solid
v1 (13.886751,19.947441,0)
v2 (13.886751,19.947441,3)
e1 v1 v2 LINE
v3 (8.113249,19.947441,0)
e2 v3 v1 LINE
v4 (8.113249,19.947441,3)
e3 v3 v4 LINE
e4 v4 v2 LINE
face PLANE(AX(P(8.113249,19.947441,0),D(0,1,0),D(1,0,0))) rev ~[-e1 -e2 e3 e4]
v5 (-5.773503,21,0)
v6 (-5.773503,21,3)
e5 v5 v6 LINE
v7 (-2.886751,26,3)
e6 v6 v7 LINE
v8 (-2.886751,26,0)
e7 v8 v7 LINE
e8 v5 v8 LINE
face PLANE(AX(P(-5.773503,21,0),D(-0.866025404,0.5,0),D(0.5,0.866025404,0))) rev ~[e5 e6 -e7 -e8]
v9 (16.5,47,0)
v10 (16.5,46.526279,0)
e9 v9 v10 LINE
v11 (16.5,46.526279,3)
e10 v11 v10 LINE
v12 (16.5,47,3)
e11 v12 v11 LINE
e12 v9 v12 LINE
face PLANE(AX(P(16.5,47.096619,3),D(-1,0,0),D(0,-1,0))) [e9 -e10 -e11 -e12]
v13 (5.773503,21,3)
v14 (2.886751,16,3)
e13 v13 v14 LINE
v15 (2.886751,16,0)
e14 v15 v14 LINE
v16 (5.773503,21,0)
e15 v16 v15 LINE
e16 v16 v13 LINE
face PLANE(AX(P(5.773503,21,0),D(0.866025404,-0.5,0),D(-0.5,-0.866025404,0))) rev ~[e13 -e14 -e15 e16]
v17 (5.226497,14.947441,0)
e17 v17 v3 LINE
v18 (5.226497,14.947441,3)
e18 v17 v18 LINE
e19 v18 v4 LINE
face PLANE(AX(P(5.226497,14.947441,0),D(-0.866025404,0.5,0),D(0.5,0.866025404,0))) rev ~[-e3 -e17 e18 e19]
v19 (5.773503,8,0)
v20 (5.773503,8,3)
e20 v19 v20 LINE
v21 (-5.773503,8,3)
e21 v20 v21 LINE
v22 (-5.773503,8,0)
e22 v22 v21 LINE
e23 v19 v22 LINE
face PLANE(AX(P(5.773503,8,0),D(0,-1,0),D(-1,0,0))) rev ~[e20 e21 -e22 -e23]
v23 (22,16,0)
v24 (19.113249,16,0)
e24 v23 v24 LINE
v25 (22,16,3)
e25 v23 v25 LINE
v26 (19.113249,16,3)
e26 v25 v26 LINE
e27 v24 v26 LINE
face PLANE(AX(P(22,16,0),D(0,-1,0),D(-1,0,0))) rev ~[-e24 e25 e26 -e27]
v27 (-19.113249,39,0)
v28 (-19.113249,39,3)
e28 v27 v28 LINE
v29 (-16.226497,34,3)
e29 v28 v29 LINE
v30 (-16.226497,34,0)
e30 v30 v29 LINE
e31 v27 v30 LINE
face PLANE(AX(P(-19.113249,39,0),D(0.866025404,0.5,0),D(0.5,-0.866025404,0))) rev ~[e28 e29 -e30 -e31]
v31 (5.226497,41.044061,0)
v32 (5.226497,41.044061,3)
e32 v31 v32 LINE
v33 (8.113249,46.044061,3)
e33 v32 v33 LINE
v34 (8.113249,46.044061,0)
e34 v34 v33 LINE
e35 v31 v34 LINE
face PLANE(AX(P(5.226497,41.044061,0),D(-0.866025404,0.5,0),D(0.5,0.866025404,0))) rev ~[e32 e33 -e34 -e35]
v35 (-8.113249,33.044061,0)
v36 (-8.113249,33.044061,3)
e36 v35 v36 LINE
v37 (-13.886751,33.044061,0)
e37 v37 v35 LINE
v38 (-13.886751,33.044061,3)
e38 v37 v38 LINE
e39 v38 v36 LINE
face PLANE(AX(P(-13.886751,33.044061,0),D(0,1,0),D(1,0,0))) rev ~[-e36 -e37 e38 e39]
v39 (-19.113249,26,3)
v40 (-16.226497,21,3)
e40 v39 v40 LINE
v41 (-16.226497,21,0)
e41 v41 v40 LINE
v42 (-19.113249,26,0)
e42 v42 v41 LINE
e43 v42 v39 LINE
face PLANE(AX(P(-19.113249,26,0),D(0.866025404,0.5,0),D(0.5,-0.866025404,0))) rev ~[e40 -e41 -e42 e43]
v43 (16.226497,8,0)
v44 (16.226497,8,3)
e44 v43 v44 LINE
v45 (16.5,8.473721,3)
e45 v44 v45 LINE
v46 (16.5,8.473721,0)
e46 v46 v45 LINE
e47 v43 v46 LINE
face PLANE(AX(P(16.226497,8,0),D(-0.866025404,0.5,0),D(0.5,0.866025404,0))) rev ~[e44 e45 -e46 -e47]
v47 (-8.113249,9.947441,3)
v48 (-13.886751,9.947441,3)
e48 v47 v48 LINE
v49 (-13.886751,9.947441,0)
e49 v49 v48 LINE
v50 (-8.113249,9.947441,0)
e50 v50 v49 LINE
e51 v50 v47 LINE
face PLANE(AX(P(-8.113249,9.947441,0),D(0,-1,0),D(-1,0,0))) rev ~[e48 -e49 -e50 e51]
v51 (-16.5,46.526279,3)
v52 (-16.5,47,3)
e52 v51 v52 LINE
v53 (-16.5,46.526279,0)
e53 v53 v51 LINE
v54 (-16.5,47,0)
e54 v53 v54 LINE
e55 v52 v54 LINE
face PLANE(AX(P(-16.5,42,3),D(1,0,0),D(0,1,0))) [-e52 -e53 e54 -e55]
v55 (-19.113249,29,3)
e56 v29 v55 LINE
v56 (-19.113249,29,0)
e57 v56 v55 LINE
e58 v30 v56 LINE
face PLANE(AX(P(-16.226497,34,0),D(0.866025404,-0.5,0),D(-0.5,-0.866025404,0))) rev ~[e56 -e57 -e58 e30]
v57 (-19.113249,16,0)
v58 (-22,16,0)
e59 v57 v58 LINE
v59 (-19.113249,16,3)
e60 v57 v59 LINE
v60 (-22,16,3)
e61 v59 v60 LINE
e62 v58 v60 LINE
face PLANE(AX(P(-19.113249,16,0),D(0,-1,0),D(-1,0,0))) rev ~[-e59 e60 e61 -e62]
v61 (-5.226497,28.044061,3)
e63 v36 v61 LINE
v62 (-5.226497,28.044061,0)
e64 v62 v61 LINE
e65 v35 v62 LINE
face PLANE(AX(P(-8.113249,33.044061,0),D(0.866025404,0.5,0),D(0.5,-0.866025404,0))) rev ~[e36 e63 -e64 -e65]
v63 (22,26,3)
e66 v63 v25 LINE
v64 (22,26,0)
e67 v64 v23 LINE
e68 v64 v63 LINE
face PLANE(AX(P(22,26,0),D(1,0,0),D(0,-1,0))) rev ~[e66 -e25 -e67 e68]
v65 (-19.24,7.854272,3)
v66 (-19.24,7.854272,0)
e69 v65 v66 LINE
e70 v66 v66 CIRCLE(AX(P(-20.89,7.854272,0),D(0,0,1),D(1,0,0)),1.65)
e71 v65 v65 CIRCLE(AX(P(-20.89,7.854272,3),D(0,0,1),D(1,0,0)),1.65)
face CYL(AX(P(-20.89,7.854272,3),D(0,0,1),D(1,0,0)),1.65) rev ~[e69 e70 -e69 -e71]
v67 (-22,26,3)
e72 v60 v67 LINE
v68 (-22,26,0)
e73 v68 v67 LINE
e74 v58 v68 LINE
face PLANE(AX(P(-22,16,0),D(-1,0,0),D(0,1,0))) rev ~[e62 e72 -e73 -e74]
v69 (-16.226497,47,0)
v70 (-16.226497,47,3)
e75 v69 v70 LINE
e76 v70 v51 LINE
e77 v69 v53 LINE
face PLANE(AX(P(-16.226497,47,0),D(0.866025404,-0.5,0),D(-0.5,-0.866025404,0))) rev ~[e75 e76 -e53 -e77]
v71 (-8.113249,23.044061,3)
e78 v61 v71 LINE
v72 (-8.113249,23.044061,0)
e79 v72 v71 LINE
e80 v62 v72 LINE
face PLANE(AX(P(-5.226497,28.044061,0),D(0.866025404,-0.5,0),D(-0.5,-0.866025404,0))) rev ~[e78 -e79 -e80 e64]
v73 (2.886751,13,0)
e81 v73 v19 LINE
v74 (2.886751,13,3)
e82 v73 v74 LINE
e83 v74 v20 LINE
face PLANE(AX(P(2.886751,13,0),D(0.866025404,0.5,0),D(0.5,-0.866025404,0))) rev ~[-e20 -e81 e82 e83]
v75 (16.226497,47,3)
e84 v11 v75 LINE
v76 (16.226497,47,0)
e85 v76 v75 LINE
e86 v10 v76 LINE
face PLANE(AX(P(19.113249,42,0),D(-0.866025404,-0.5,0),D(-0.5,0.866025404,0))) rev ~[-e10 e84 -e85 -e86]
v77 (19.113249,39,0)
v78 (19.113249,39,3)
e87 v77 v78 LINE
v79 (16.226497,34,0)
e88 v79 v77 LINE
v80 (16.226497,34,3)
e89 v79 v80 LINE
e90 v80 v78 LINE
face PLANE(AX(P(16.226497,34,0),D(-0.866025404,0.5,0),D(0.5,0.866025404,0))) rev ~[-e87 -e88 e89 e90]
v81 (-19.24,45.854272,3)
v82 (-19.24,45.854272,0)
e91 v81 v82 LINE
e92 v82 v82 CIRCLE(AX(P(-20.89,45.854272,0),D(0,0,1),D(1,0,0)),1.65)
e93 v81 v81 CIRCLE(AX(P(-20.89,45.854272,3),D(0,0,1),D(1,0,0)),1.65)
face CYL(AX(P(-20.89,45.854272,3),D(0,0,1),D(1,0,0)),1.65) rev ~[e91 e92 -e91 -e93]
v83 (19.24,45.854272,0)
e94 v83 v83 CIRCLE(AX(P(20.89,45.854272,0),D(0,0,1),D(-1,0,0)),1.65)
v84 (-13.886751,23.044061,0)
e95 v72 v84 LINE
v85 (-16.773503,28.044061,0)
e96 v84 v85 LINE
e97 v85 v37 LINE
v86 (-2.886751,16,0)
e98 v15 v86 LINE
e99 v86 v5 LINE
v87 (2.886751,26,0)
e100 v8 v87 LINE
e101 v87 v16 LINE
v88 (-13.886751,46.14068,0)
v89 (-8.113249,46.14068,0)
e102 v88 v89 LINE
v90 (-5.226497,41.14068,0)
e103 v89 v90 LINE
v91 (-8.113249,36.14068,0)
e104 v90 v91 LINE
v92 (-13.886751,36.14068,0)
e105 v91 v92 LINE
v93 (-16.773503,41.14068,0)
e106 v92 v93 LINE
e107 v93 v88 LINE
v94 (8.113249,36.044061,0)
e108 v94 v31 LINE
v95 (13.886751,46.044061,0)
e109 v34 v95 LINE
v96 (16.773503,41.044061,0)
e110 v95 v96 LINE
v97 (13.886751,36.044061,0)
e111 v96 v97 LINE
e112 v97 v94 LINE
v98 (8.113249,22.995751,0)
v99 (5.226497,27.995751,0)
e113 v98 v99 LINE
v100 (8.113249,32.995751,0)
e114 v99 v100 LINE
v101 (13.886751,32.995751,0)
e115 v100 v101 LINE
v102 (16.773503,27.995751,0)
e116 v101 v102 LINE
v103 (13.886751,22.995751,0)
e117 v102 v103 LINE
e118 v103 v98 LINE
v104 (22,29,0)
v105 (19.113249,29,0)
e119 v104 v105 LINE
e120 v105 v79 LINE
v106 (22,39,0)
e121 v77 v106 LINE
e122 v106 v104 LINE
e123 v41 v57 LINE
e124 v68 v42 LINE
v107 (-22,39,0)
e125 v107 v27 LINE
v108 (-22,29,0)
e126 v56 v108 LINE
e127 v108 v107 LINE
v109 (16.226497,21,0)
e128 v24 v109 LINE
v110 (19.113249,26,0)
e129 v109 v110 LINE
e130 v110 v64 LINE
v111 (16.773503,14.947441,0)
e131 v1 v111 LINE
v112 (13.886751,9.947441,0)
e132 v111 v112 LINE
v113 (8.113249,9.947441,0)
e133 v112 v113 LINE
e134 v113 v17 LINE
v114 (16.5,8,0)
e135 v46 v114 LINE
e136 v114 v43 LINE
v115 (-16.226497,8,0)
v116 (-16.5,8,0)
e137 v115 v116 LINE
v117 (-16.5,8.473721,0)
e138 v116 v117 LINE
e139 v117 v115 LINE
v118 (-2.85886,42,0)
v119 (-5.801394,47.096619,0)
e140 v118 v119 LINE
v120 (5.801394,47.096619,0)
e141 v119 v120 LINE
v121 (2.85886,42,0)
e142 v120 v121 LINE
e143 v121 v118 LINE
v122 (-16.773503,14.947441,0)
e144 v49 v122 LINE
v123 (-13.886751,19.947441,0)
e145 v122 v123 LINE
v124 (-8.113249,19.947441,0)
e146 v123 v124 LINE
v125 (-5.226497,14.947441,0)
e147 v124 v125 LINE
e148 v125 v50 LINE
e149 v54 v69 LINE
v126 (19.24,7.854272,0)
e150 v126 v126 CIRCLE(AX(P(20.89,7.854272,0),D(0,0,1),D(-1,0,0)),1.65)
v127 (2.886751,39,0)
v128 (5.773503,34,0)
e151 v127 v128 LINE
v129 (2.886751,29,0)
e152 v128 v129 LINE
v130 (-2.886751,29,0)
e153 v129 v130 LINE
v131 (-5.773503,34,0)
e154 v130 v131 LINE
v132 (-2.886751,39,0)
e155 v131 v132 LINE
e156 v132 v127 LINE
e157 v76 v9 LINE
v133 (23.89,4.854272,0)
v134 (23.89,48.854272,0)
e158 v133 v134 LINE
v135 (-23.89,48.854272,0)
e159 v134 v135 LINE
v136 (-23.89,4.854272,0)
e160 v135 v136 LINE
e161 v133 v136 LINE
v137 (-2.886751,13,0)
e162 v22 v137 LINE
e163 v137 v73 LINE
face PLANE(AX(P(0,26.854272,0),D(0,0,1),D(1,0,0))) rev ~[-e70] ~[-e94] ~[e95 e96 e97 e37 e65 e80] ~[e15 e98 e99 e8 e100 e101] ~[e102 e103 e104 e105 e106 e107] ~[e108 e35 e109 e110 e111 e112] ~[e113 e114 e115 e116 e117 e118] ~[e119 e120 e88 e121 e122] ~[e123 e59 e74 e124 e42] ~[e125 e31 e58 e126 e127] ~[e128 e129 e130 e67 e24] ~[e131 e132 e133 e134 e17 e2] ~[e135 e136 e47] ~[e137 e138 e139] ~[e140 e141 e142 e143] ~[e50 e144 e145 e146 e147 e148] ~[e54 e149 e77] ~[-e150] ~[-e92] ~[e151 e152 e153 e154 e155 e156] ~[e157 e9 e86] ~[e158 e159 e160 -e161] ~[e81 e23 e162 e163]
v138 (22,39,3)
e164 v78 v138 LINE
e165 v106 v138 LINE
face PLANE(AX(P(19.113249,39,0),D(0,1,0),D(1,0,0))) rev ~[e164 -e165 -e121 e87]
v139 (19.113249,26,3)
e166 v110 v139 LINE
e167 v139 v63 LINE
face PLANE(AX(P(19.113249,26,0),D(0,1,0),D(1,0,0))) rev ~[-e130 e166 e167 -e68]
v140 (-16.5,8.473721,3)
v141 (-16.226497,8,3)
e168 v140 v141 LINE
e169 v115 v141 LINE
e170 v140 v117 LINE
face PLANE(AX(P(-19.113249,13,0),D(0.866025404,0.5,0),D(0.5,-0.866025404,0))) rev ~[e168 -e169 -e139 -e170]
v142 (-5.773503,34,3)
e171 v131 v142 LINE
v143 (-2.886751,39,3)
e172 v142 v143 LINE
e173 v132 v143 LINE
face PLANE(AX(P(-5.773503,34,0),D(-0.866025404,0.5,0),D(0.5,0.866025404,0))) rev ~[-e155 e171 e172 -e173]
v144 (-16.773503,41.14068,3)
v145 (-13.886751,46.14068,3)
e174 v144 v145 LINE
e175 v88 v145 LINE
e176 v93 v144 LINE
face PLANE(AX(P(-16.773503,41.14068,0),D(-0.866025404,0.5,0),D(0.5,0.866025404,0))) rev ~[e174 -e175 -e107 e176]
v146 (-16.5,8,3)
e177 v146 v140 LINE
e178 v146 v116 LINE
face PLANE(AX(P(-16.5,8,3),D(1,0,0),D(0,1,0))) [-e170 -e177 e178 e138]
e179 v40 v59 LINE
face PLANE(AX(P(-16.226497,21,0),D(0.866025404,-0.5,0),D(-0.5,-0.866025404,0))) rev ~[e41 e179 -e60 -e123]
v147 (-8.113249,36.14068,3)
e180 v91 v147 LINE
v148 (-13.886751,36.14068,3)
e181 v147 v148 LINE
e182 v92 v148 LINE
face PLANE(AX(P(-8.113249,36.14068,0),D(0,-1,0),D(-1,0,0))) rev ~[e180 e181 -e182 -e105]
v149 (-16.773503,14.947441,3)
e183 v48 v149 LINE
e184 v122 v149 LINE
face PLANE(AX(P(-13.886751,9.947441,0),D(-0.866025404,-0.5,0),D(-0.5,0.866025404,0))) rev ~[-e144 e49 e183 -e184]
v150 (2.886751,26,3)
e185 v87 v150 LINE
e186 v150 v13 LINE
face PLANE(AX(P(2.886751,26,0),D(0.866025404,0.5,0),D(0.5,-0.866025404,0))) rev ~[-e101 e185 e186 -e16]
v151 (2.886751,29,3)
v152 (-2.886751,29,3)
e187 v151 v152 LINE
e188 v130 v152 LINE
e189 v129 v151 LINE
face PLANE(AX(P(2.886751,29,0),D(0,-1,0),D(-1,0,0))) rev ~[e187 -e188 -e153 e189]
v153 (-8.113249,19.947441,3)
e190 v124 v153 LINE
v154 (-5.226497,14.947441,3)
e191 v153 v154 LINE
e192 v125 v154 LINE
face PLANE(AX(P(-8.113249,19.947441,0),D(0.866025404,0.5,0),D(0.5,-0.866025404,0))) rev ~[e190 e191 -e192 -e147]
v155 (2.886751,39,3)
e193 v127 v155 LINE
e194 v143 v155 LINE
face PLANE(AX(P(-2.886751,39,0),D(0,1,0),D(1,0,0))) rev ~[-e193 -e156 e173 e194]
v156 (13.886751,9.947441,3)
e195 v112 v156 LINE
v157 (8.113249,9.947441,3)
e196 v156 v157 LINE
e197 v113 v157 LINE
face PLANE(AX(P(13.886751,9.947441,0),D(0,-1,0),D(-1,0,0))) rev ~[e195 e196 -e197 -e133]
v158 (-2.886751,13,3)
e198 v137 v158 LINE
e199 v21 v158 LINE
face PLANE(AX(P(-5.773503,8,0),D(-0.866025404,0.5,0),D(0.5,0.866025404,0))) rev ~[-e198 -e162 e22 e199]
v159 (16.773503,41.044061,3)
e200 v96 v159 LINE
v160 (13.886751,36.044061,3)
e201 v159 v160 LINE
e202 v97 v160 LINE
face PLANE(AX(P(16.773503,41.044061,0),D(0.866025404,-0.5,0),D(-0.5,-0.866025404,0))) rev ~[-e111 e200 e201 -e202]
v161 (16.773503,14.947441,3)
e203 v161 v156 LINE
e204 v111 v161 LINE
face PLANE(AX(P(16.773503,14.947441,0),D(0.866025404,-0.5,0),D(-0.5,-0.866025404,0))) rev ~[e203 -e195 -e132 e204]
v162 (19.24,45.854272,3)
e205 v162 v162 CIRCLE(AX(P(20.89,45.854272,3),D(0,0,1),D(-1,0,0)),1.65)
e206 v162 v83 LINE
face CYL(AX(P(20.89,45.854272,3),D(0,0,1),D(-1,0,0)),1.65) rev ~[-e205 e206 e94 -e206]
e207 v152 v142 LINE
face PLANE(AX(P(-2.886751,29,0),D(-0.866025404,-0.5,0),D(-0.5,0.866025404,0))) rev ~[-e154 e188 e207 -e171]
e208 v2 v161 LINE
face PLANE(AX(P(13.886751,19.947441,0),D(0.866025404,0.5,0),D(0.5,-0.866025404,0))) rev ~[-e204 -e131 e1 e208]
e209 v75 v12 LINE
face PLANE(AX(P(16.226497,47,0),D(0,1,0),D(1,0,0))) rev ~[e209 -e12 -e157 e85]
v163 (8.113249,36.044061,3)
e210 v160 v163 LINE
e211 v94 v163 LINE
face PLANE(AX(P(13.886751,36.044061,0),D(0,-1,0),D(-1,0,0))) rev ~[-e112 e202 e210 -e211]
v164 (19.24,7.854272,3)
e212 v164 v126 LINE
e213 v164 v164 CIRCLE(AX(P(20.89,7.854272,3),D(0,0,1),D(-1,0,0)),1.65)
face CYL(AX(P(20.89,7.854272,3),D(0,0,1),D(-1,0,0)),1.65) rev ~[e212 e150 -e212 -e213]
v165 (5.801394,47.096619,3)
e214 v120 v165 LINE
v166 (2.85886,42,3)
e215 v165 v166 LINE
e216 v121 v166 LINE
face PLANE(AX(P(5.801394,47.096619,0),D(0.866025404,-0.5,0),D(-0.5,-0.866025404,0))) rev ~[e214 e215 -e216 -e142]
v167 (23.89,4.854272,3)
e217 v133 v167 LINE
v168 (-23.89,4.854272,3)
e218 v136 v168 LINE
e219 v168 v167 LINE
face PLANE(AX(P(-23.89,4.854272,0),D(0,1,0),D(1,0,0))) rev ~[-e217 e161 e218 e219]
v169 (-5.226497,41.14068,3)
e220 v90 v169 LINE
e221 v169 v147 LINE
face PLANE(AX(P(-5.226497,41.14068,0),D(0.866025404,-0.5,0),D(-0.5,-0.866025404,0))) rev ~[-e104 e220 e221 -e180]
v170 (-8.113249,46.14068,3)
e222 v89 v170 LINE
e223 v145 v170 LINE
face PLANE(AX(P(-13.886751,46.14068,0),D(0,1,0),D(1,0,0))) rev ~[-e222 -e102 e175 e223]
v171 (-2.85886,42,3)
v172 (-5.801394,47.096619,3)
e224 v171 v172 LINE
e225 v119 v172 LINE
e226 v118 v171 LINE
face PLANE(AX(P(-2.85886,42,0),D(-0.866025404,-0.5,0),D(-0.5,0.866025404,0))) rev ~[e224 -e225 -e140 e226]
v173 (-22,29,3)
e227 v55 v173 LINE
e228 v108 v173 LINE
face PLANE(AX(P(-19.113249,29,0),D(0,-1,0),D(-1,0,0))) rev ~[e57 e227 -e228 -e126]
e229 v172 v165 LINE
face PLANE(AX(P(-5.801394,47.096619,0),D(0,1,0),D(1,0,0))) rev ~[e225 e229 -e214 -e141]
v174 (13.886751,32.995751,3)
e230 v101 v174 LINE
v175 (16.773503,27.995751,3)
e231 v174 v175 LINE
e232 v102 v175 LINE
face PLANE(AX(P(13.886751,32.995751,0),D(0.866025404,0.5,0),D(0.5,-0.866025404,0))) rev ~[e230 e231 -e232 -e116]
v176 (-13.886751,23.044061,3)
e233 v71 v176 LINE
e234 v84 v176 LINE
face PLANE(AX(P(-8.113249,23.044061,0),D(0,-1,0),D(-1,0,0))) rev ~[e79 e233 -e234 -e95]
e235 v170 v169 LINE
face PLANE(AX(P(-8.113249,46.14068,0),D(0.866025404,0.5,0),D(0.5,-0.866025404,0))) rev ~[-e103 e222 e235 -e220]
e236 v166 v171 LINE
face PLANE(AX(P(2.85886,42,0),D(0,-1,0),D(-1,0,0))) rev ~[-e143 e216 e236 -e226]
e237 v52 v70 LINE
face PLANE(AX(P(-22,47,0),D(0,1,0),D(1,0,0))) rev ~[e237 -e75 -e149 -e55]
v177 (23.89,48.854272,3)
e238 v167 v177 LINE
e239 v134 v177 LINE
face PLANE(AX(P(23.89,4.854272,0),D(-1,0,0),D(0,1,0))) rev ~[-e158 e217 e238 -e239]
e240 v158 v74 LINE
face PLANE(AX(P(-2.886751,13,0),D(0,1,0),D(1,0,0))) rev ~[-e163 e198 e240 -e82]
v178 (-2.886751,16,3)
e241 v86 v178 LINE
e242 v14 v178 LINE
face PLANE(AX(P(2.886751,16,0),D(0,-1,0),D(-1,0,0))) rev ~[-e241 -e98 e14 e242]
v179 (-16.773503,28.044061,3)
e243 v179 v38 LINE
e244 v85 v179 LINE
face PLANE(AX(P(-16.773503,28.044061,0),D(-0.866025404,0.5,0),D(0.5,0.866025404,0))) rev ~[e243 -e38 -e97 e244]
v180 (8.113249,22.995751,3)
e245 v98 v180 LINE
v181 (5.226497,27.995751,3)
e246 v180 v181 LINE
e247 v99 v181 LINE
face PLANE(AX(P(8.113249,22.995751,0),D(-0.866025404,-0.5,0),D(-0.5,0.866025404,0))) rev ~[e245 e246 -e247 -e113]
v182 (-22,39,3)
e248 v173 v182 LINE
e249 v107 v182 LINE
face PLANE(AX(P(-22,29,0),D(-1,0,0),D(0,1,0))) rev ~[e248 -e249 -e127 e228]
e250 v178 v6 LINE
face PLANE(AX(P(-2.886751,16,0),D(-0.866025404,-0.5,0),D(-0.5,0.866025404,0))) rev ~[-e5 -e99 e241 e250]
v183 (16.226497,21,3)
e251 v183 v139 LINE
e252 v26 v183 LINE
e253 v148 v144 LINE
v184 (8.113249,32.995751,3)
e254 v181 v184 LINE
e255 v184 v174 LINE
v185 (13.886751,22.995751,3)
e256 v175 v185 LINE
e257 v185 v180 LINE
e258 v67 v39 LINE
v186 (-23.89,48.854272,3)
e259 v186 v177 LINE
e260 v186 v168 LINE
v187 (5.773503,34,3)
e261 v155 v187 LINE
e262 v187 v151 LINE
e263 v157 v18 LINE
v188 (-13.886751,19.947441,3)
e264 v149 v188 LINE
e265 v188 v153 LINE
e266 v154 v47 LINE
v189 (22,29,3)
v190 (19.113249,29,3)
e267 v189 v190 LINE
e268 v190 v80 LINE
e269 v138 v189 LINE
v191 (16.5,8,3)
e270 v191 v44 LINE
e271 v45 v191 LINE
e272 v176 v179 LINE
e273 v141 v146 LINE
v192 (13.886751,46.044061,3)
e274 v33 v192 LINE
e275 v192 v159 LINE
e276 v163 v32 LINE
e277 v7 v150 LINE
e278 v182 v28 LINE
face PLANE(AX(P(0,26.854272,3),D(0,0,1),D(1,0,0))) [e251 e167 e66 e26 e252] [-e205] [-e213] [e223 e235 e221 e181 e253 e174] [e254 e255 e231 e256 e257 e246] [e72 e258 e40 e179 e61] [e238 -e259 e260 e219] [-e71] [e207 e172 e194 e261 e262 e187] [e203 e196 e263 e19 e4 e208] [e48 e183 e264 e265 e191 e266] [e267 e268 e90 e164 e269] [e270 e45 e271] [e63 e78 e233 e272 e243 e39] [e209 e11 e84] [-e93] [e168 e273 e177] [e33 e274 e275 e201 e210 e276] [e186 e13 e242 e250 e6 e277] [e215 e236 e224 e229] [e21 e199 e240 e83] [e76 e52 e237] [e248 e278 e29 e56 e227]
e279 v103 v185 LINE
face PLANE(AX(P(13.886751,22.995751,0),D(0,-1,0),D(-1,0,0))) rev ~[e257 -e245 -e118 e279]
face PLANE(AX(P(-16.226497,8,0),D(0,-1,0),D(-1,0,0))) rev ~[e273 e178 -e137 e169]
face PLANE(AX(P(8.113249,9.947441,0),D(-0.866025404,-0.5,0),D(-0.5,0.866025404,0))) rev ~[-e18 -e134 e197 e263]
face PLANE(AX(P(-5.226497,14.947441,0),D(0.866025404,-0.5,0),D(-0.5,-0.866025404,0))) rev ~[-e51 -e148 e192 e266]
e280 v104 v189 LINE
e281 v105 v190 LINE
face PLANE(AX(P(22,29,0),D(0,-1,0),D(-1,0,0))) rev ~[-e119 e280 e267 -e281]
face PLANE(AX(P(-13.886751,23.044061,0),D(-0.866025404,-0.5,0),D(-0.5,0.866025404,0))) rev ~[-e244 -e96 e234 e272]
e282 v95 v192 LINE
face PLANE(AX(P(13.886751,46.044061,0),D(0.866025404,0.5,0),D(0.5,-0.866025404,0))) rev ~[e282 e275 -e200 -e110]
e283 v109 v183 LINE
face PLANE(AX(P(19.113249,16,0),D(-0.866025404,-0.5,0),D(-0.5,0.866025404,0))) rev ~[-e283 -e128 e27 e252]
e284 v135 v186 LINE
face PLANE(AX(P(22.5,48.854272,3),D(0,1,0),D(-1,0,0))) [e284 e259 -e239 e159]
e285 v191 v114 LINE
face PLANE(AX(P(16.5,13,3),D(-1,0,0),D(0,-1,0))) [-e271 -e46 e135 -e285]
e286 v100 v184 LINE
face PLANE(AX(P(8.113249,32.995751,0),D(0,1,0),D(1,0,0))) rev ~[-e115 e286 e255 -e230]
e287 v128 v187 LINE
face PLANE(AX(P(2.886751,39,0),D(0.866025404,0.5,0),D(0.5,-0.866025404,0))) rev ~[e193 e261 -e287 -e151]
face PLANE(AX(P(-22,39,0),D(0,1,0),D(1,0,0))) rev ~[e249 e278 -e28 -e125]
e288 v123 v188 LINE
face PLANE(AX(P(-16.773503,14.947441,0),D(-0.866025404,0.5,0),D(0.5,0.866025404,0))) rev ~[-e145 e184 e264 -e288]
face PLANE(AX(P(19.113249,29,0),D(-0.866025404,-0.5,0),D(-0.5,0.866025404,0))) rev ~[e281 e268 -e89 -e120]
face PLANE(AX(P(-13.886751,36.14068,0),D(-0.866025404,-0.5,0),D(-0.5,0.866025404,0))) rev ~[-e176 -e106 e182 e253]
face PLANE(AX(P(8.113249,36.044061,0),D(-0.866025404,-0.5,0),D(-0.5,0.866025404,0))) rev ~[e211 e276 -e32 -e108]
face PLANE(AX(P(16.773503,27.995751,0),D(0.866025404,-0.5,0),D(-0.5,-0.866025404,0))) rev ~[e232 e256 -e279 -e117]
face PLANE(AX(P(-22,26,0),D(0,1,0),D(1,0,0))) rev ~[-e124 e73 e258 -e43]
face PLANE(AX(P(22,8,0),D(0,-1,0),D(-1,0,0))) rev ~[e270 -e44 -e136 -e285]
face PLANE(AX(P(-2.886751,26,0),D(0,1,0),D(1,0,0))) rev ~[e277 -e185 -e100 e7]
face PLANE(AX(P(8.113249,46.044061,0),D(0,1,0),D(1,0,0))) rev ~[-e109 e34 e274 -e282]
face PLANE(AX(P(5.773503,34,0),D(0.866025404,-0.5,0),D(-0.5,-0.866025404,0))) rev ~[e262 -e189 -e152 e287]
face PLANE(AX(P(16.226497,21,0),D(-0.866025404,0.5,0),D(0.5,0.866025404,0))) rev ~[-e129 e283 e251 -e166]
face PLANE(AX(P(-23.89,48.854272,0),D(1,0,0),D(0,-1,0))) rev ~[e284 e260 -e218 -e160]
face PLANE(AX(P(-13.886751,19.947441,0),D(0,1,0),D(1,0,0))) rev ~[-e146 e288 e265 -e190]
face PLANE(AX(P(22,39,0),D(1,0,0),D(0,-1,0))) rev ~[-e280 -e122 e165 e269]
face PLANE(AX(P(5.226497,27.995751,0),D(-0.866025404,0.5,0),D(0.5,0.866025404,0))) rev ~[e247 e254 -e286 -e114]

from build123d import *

# Parameters (mm, degrees)
RESSALTO_EXTRUS_O2_DEPTH = 3
RESSALTO_EXTRUS_O3_DEPTH = 3
ESBO_O4_R                = 1.65
CORTE_EXTRUS_O2_DEPTH    = 55.465328173


with BuildPart() as part:
    # Esboço1 → Ressalto-extrusão2 (new body)
    with BuildSketch(Plane.XY):
        Polygon((-23.89, 48.854271798), (-23.89, 4.854271798), (-18.042684332, 4.854271798), (3.957315668, 4.854271798), (18.042684332, 4.854271798), (23.89, 4.854271798), (23.89, 48.854271798), align=None)
        Polygon((19.113248654, 42), (16.226497308, 47), (22, 47), (22, 42), align=None, mode=Mode.SUBTRACT)
        Polygon((-16.226497308, 8), (-22, 8), (-22, 13), (-19.113248654, 13), align=None, mode=Mode.SUBTRACT)
        Polygon((-8.113248654, 19.947441117), (-5.226497308, 14.947441117), (-8.113248654, 9.947441117), (-13.886751346, 9.947441117), (-16.773502692, 14.947441117), (-13.886751346, 19.947441117), align=None, mode=Mode.SUBTRACT)
        Polygon((-19.113248654, 16), (-22, 16), (-22, 26), (-19.113248654, 26), (-16.226497308, 21), align=None, mode=Mode.SUBTRACT)
        Polygon((-2.886751346, 13), (2.886751346, 13), (5.773502692, 8), (-5.773502692, 8), align=None, mode=Mode.SUBTRACT)
        Polygon((22, 8), (16.226497308, 8), (19.113248654, 13), (22, 13), align=None, mode=Mode.SUBTRACT)
        Polygon((13.886751346, 19.947441117), (16.773502692, 14.947441117), (13.886751346, 9.947441117), (8.113248654, 9.947441117), (5.226497308, 14.947441117), (8.113248654, 19.947441117), align=None, mode=Mode.SUBTRACT)
        Polygon((-2.886751346, 26), (2.886751346, 26), (5.773502692, 21), (2.886751346, 16), (-2.886751346, 16), (-5.773502692, 21), align=None, mode=Mode.SUBTRACT)
        Polygon((22, 16), (19.113248654, 16), (16.226497308, 21), (19.113248654, 26), (22, 26), align=None, mode=Mode.SUBTRACT)
        Polygon((-19.113248654, 29), (-22, 29), (-22, 39), (-19.113248654, 39), (-16.226497308, 34), align=None, mode=Mode.SUBTRACT)
        Polygon((-8.113248654, 33.044060566), (-5.226497308, 28.044060566), (-8.113248654, 23.044060566), (-13.886751346, 23.044060566), (-16.773502692, 28.044060566), (-13.886751346, 33.044060566), align=None, mode=Mode.SUBTRACT)
        Polygon((-19.113248654, 42), (-22, 42), (-22, 47), (-16.226497308, 47), align=None, mode=Mode.SUBTRACT)
        Polygon((-8.113248654, 46.140680015), (-5.226497308, 41.140680015), (-8.113248654, 36.140680015), (-13.886751346, 36.140680015), (-16.773502692, 41.140680015), (-13.886751346, 46.140680015), align=None, mode=Mode.SUBTRACT)
        Polygon((-2.886751346, 39), (2.886751346, 39), (5.773502692, 34), (2.886751346, 29), (-2.886751346, 29), (-5.773502692, 34), align=None, mode=Mode.SUBTRACT)
        Polygon((13.886751346, 32.995750841), (16.773502692, 27.995750841), (13.886751346, 22.995750841), (8.113248654, 22.995750841), (5.226497308, 27.995750841), (8.113248654, 32.995750841), align=None, mode=Mode.SUBTRACT)
        Polygon((19.113248654, 39), (22, 39), (22, 29), (19.113248654, 29), (16.226497308, 34), align=None, mode=Mode.SUBTRACT)
        Polygon((-5.801394324, 47.096619449), (5.801394324, 47.096619449), (2.858859713, 42), (-2.858859713, 42), align=None, mode=Mode.SUBTRACT)
        Polygon((13.886751346, 46.044060566), (16.773502692, 41.044060566), (13.886751346, 36.044060566), (8.113248654, 36.044060566), (5.226497308, 41.044060566), (8.113248654, 46.044060566), align=None, mode=Mode.SUBTRACT)
    extrude(amount=RESSALTO_EXTRUS_O2_DEPTH)

    # Esboço2 → Ressalto-extrusão3 (add)
    with BuildSketch(Plane.XY.offset(3)):
        Polygon((22.5, 48.854271798), (-22.5, 48.854271798), (-22.5, 42), (-16.5, 42), (-16.5, 47.096619449), (16.5, 47.096619449), (16.5, 42), (22.5, 42), align=None)
        Polygon((-22.5, 13), (-22.5, 4.854271798), (22.5, 4.854271798), (22.5, 13), (16.5, 13), (16.5, 8), (-16.5, 8), (-16.5, 13), align=None)
    extrude(amount=-RESSALTO_EXTRUS_O3_DEPTH)

    # Esboço4 → Corte-extrusão2 (cut, through all)
    with BuildSketch(Plane.XY.offset(3)):
        with Locations((-20.89, 45.854271798)):
            Circle(ESBO_O4_R)
        with Locations((-20.89, 7.854271798)):
            Circle(ESBO_O4_R)
        with Locations(Location((20.89, 7.854271798, 0), (0, 0, 180))):
            Circle(ESBO_O4_R)
        with Locations(Location((20.89, 45.854271798, 0), (0, 0, 180))):
            Circle(ESBO_O4_R)
    extrude(amount=-CORTE_EXTRUS_O2_DEPTH, mode=Mode.SUBTRACT)


solid = part.part
